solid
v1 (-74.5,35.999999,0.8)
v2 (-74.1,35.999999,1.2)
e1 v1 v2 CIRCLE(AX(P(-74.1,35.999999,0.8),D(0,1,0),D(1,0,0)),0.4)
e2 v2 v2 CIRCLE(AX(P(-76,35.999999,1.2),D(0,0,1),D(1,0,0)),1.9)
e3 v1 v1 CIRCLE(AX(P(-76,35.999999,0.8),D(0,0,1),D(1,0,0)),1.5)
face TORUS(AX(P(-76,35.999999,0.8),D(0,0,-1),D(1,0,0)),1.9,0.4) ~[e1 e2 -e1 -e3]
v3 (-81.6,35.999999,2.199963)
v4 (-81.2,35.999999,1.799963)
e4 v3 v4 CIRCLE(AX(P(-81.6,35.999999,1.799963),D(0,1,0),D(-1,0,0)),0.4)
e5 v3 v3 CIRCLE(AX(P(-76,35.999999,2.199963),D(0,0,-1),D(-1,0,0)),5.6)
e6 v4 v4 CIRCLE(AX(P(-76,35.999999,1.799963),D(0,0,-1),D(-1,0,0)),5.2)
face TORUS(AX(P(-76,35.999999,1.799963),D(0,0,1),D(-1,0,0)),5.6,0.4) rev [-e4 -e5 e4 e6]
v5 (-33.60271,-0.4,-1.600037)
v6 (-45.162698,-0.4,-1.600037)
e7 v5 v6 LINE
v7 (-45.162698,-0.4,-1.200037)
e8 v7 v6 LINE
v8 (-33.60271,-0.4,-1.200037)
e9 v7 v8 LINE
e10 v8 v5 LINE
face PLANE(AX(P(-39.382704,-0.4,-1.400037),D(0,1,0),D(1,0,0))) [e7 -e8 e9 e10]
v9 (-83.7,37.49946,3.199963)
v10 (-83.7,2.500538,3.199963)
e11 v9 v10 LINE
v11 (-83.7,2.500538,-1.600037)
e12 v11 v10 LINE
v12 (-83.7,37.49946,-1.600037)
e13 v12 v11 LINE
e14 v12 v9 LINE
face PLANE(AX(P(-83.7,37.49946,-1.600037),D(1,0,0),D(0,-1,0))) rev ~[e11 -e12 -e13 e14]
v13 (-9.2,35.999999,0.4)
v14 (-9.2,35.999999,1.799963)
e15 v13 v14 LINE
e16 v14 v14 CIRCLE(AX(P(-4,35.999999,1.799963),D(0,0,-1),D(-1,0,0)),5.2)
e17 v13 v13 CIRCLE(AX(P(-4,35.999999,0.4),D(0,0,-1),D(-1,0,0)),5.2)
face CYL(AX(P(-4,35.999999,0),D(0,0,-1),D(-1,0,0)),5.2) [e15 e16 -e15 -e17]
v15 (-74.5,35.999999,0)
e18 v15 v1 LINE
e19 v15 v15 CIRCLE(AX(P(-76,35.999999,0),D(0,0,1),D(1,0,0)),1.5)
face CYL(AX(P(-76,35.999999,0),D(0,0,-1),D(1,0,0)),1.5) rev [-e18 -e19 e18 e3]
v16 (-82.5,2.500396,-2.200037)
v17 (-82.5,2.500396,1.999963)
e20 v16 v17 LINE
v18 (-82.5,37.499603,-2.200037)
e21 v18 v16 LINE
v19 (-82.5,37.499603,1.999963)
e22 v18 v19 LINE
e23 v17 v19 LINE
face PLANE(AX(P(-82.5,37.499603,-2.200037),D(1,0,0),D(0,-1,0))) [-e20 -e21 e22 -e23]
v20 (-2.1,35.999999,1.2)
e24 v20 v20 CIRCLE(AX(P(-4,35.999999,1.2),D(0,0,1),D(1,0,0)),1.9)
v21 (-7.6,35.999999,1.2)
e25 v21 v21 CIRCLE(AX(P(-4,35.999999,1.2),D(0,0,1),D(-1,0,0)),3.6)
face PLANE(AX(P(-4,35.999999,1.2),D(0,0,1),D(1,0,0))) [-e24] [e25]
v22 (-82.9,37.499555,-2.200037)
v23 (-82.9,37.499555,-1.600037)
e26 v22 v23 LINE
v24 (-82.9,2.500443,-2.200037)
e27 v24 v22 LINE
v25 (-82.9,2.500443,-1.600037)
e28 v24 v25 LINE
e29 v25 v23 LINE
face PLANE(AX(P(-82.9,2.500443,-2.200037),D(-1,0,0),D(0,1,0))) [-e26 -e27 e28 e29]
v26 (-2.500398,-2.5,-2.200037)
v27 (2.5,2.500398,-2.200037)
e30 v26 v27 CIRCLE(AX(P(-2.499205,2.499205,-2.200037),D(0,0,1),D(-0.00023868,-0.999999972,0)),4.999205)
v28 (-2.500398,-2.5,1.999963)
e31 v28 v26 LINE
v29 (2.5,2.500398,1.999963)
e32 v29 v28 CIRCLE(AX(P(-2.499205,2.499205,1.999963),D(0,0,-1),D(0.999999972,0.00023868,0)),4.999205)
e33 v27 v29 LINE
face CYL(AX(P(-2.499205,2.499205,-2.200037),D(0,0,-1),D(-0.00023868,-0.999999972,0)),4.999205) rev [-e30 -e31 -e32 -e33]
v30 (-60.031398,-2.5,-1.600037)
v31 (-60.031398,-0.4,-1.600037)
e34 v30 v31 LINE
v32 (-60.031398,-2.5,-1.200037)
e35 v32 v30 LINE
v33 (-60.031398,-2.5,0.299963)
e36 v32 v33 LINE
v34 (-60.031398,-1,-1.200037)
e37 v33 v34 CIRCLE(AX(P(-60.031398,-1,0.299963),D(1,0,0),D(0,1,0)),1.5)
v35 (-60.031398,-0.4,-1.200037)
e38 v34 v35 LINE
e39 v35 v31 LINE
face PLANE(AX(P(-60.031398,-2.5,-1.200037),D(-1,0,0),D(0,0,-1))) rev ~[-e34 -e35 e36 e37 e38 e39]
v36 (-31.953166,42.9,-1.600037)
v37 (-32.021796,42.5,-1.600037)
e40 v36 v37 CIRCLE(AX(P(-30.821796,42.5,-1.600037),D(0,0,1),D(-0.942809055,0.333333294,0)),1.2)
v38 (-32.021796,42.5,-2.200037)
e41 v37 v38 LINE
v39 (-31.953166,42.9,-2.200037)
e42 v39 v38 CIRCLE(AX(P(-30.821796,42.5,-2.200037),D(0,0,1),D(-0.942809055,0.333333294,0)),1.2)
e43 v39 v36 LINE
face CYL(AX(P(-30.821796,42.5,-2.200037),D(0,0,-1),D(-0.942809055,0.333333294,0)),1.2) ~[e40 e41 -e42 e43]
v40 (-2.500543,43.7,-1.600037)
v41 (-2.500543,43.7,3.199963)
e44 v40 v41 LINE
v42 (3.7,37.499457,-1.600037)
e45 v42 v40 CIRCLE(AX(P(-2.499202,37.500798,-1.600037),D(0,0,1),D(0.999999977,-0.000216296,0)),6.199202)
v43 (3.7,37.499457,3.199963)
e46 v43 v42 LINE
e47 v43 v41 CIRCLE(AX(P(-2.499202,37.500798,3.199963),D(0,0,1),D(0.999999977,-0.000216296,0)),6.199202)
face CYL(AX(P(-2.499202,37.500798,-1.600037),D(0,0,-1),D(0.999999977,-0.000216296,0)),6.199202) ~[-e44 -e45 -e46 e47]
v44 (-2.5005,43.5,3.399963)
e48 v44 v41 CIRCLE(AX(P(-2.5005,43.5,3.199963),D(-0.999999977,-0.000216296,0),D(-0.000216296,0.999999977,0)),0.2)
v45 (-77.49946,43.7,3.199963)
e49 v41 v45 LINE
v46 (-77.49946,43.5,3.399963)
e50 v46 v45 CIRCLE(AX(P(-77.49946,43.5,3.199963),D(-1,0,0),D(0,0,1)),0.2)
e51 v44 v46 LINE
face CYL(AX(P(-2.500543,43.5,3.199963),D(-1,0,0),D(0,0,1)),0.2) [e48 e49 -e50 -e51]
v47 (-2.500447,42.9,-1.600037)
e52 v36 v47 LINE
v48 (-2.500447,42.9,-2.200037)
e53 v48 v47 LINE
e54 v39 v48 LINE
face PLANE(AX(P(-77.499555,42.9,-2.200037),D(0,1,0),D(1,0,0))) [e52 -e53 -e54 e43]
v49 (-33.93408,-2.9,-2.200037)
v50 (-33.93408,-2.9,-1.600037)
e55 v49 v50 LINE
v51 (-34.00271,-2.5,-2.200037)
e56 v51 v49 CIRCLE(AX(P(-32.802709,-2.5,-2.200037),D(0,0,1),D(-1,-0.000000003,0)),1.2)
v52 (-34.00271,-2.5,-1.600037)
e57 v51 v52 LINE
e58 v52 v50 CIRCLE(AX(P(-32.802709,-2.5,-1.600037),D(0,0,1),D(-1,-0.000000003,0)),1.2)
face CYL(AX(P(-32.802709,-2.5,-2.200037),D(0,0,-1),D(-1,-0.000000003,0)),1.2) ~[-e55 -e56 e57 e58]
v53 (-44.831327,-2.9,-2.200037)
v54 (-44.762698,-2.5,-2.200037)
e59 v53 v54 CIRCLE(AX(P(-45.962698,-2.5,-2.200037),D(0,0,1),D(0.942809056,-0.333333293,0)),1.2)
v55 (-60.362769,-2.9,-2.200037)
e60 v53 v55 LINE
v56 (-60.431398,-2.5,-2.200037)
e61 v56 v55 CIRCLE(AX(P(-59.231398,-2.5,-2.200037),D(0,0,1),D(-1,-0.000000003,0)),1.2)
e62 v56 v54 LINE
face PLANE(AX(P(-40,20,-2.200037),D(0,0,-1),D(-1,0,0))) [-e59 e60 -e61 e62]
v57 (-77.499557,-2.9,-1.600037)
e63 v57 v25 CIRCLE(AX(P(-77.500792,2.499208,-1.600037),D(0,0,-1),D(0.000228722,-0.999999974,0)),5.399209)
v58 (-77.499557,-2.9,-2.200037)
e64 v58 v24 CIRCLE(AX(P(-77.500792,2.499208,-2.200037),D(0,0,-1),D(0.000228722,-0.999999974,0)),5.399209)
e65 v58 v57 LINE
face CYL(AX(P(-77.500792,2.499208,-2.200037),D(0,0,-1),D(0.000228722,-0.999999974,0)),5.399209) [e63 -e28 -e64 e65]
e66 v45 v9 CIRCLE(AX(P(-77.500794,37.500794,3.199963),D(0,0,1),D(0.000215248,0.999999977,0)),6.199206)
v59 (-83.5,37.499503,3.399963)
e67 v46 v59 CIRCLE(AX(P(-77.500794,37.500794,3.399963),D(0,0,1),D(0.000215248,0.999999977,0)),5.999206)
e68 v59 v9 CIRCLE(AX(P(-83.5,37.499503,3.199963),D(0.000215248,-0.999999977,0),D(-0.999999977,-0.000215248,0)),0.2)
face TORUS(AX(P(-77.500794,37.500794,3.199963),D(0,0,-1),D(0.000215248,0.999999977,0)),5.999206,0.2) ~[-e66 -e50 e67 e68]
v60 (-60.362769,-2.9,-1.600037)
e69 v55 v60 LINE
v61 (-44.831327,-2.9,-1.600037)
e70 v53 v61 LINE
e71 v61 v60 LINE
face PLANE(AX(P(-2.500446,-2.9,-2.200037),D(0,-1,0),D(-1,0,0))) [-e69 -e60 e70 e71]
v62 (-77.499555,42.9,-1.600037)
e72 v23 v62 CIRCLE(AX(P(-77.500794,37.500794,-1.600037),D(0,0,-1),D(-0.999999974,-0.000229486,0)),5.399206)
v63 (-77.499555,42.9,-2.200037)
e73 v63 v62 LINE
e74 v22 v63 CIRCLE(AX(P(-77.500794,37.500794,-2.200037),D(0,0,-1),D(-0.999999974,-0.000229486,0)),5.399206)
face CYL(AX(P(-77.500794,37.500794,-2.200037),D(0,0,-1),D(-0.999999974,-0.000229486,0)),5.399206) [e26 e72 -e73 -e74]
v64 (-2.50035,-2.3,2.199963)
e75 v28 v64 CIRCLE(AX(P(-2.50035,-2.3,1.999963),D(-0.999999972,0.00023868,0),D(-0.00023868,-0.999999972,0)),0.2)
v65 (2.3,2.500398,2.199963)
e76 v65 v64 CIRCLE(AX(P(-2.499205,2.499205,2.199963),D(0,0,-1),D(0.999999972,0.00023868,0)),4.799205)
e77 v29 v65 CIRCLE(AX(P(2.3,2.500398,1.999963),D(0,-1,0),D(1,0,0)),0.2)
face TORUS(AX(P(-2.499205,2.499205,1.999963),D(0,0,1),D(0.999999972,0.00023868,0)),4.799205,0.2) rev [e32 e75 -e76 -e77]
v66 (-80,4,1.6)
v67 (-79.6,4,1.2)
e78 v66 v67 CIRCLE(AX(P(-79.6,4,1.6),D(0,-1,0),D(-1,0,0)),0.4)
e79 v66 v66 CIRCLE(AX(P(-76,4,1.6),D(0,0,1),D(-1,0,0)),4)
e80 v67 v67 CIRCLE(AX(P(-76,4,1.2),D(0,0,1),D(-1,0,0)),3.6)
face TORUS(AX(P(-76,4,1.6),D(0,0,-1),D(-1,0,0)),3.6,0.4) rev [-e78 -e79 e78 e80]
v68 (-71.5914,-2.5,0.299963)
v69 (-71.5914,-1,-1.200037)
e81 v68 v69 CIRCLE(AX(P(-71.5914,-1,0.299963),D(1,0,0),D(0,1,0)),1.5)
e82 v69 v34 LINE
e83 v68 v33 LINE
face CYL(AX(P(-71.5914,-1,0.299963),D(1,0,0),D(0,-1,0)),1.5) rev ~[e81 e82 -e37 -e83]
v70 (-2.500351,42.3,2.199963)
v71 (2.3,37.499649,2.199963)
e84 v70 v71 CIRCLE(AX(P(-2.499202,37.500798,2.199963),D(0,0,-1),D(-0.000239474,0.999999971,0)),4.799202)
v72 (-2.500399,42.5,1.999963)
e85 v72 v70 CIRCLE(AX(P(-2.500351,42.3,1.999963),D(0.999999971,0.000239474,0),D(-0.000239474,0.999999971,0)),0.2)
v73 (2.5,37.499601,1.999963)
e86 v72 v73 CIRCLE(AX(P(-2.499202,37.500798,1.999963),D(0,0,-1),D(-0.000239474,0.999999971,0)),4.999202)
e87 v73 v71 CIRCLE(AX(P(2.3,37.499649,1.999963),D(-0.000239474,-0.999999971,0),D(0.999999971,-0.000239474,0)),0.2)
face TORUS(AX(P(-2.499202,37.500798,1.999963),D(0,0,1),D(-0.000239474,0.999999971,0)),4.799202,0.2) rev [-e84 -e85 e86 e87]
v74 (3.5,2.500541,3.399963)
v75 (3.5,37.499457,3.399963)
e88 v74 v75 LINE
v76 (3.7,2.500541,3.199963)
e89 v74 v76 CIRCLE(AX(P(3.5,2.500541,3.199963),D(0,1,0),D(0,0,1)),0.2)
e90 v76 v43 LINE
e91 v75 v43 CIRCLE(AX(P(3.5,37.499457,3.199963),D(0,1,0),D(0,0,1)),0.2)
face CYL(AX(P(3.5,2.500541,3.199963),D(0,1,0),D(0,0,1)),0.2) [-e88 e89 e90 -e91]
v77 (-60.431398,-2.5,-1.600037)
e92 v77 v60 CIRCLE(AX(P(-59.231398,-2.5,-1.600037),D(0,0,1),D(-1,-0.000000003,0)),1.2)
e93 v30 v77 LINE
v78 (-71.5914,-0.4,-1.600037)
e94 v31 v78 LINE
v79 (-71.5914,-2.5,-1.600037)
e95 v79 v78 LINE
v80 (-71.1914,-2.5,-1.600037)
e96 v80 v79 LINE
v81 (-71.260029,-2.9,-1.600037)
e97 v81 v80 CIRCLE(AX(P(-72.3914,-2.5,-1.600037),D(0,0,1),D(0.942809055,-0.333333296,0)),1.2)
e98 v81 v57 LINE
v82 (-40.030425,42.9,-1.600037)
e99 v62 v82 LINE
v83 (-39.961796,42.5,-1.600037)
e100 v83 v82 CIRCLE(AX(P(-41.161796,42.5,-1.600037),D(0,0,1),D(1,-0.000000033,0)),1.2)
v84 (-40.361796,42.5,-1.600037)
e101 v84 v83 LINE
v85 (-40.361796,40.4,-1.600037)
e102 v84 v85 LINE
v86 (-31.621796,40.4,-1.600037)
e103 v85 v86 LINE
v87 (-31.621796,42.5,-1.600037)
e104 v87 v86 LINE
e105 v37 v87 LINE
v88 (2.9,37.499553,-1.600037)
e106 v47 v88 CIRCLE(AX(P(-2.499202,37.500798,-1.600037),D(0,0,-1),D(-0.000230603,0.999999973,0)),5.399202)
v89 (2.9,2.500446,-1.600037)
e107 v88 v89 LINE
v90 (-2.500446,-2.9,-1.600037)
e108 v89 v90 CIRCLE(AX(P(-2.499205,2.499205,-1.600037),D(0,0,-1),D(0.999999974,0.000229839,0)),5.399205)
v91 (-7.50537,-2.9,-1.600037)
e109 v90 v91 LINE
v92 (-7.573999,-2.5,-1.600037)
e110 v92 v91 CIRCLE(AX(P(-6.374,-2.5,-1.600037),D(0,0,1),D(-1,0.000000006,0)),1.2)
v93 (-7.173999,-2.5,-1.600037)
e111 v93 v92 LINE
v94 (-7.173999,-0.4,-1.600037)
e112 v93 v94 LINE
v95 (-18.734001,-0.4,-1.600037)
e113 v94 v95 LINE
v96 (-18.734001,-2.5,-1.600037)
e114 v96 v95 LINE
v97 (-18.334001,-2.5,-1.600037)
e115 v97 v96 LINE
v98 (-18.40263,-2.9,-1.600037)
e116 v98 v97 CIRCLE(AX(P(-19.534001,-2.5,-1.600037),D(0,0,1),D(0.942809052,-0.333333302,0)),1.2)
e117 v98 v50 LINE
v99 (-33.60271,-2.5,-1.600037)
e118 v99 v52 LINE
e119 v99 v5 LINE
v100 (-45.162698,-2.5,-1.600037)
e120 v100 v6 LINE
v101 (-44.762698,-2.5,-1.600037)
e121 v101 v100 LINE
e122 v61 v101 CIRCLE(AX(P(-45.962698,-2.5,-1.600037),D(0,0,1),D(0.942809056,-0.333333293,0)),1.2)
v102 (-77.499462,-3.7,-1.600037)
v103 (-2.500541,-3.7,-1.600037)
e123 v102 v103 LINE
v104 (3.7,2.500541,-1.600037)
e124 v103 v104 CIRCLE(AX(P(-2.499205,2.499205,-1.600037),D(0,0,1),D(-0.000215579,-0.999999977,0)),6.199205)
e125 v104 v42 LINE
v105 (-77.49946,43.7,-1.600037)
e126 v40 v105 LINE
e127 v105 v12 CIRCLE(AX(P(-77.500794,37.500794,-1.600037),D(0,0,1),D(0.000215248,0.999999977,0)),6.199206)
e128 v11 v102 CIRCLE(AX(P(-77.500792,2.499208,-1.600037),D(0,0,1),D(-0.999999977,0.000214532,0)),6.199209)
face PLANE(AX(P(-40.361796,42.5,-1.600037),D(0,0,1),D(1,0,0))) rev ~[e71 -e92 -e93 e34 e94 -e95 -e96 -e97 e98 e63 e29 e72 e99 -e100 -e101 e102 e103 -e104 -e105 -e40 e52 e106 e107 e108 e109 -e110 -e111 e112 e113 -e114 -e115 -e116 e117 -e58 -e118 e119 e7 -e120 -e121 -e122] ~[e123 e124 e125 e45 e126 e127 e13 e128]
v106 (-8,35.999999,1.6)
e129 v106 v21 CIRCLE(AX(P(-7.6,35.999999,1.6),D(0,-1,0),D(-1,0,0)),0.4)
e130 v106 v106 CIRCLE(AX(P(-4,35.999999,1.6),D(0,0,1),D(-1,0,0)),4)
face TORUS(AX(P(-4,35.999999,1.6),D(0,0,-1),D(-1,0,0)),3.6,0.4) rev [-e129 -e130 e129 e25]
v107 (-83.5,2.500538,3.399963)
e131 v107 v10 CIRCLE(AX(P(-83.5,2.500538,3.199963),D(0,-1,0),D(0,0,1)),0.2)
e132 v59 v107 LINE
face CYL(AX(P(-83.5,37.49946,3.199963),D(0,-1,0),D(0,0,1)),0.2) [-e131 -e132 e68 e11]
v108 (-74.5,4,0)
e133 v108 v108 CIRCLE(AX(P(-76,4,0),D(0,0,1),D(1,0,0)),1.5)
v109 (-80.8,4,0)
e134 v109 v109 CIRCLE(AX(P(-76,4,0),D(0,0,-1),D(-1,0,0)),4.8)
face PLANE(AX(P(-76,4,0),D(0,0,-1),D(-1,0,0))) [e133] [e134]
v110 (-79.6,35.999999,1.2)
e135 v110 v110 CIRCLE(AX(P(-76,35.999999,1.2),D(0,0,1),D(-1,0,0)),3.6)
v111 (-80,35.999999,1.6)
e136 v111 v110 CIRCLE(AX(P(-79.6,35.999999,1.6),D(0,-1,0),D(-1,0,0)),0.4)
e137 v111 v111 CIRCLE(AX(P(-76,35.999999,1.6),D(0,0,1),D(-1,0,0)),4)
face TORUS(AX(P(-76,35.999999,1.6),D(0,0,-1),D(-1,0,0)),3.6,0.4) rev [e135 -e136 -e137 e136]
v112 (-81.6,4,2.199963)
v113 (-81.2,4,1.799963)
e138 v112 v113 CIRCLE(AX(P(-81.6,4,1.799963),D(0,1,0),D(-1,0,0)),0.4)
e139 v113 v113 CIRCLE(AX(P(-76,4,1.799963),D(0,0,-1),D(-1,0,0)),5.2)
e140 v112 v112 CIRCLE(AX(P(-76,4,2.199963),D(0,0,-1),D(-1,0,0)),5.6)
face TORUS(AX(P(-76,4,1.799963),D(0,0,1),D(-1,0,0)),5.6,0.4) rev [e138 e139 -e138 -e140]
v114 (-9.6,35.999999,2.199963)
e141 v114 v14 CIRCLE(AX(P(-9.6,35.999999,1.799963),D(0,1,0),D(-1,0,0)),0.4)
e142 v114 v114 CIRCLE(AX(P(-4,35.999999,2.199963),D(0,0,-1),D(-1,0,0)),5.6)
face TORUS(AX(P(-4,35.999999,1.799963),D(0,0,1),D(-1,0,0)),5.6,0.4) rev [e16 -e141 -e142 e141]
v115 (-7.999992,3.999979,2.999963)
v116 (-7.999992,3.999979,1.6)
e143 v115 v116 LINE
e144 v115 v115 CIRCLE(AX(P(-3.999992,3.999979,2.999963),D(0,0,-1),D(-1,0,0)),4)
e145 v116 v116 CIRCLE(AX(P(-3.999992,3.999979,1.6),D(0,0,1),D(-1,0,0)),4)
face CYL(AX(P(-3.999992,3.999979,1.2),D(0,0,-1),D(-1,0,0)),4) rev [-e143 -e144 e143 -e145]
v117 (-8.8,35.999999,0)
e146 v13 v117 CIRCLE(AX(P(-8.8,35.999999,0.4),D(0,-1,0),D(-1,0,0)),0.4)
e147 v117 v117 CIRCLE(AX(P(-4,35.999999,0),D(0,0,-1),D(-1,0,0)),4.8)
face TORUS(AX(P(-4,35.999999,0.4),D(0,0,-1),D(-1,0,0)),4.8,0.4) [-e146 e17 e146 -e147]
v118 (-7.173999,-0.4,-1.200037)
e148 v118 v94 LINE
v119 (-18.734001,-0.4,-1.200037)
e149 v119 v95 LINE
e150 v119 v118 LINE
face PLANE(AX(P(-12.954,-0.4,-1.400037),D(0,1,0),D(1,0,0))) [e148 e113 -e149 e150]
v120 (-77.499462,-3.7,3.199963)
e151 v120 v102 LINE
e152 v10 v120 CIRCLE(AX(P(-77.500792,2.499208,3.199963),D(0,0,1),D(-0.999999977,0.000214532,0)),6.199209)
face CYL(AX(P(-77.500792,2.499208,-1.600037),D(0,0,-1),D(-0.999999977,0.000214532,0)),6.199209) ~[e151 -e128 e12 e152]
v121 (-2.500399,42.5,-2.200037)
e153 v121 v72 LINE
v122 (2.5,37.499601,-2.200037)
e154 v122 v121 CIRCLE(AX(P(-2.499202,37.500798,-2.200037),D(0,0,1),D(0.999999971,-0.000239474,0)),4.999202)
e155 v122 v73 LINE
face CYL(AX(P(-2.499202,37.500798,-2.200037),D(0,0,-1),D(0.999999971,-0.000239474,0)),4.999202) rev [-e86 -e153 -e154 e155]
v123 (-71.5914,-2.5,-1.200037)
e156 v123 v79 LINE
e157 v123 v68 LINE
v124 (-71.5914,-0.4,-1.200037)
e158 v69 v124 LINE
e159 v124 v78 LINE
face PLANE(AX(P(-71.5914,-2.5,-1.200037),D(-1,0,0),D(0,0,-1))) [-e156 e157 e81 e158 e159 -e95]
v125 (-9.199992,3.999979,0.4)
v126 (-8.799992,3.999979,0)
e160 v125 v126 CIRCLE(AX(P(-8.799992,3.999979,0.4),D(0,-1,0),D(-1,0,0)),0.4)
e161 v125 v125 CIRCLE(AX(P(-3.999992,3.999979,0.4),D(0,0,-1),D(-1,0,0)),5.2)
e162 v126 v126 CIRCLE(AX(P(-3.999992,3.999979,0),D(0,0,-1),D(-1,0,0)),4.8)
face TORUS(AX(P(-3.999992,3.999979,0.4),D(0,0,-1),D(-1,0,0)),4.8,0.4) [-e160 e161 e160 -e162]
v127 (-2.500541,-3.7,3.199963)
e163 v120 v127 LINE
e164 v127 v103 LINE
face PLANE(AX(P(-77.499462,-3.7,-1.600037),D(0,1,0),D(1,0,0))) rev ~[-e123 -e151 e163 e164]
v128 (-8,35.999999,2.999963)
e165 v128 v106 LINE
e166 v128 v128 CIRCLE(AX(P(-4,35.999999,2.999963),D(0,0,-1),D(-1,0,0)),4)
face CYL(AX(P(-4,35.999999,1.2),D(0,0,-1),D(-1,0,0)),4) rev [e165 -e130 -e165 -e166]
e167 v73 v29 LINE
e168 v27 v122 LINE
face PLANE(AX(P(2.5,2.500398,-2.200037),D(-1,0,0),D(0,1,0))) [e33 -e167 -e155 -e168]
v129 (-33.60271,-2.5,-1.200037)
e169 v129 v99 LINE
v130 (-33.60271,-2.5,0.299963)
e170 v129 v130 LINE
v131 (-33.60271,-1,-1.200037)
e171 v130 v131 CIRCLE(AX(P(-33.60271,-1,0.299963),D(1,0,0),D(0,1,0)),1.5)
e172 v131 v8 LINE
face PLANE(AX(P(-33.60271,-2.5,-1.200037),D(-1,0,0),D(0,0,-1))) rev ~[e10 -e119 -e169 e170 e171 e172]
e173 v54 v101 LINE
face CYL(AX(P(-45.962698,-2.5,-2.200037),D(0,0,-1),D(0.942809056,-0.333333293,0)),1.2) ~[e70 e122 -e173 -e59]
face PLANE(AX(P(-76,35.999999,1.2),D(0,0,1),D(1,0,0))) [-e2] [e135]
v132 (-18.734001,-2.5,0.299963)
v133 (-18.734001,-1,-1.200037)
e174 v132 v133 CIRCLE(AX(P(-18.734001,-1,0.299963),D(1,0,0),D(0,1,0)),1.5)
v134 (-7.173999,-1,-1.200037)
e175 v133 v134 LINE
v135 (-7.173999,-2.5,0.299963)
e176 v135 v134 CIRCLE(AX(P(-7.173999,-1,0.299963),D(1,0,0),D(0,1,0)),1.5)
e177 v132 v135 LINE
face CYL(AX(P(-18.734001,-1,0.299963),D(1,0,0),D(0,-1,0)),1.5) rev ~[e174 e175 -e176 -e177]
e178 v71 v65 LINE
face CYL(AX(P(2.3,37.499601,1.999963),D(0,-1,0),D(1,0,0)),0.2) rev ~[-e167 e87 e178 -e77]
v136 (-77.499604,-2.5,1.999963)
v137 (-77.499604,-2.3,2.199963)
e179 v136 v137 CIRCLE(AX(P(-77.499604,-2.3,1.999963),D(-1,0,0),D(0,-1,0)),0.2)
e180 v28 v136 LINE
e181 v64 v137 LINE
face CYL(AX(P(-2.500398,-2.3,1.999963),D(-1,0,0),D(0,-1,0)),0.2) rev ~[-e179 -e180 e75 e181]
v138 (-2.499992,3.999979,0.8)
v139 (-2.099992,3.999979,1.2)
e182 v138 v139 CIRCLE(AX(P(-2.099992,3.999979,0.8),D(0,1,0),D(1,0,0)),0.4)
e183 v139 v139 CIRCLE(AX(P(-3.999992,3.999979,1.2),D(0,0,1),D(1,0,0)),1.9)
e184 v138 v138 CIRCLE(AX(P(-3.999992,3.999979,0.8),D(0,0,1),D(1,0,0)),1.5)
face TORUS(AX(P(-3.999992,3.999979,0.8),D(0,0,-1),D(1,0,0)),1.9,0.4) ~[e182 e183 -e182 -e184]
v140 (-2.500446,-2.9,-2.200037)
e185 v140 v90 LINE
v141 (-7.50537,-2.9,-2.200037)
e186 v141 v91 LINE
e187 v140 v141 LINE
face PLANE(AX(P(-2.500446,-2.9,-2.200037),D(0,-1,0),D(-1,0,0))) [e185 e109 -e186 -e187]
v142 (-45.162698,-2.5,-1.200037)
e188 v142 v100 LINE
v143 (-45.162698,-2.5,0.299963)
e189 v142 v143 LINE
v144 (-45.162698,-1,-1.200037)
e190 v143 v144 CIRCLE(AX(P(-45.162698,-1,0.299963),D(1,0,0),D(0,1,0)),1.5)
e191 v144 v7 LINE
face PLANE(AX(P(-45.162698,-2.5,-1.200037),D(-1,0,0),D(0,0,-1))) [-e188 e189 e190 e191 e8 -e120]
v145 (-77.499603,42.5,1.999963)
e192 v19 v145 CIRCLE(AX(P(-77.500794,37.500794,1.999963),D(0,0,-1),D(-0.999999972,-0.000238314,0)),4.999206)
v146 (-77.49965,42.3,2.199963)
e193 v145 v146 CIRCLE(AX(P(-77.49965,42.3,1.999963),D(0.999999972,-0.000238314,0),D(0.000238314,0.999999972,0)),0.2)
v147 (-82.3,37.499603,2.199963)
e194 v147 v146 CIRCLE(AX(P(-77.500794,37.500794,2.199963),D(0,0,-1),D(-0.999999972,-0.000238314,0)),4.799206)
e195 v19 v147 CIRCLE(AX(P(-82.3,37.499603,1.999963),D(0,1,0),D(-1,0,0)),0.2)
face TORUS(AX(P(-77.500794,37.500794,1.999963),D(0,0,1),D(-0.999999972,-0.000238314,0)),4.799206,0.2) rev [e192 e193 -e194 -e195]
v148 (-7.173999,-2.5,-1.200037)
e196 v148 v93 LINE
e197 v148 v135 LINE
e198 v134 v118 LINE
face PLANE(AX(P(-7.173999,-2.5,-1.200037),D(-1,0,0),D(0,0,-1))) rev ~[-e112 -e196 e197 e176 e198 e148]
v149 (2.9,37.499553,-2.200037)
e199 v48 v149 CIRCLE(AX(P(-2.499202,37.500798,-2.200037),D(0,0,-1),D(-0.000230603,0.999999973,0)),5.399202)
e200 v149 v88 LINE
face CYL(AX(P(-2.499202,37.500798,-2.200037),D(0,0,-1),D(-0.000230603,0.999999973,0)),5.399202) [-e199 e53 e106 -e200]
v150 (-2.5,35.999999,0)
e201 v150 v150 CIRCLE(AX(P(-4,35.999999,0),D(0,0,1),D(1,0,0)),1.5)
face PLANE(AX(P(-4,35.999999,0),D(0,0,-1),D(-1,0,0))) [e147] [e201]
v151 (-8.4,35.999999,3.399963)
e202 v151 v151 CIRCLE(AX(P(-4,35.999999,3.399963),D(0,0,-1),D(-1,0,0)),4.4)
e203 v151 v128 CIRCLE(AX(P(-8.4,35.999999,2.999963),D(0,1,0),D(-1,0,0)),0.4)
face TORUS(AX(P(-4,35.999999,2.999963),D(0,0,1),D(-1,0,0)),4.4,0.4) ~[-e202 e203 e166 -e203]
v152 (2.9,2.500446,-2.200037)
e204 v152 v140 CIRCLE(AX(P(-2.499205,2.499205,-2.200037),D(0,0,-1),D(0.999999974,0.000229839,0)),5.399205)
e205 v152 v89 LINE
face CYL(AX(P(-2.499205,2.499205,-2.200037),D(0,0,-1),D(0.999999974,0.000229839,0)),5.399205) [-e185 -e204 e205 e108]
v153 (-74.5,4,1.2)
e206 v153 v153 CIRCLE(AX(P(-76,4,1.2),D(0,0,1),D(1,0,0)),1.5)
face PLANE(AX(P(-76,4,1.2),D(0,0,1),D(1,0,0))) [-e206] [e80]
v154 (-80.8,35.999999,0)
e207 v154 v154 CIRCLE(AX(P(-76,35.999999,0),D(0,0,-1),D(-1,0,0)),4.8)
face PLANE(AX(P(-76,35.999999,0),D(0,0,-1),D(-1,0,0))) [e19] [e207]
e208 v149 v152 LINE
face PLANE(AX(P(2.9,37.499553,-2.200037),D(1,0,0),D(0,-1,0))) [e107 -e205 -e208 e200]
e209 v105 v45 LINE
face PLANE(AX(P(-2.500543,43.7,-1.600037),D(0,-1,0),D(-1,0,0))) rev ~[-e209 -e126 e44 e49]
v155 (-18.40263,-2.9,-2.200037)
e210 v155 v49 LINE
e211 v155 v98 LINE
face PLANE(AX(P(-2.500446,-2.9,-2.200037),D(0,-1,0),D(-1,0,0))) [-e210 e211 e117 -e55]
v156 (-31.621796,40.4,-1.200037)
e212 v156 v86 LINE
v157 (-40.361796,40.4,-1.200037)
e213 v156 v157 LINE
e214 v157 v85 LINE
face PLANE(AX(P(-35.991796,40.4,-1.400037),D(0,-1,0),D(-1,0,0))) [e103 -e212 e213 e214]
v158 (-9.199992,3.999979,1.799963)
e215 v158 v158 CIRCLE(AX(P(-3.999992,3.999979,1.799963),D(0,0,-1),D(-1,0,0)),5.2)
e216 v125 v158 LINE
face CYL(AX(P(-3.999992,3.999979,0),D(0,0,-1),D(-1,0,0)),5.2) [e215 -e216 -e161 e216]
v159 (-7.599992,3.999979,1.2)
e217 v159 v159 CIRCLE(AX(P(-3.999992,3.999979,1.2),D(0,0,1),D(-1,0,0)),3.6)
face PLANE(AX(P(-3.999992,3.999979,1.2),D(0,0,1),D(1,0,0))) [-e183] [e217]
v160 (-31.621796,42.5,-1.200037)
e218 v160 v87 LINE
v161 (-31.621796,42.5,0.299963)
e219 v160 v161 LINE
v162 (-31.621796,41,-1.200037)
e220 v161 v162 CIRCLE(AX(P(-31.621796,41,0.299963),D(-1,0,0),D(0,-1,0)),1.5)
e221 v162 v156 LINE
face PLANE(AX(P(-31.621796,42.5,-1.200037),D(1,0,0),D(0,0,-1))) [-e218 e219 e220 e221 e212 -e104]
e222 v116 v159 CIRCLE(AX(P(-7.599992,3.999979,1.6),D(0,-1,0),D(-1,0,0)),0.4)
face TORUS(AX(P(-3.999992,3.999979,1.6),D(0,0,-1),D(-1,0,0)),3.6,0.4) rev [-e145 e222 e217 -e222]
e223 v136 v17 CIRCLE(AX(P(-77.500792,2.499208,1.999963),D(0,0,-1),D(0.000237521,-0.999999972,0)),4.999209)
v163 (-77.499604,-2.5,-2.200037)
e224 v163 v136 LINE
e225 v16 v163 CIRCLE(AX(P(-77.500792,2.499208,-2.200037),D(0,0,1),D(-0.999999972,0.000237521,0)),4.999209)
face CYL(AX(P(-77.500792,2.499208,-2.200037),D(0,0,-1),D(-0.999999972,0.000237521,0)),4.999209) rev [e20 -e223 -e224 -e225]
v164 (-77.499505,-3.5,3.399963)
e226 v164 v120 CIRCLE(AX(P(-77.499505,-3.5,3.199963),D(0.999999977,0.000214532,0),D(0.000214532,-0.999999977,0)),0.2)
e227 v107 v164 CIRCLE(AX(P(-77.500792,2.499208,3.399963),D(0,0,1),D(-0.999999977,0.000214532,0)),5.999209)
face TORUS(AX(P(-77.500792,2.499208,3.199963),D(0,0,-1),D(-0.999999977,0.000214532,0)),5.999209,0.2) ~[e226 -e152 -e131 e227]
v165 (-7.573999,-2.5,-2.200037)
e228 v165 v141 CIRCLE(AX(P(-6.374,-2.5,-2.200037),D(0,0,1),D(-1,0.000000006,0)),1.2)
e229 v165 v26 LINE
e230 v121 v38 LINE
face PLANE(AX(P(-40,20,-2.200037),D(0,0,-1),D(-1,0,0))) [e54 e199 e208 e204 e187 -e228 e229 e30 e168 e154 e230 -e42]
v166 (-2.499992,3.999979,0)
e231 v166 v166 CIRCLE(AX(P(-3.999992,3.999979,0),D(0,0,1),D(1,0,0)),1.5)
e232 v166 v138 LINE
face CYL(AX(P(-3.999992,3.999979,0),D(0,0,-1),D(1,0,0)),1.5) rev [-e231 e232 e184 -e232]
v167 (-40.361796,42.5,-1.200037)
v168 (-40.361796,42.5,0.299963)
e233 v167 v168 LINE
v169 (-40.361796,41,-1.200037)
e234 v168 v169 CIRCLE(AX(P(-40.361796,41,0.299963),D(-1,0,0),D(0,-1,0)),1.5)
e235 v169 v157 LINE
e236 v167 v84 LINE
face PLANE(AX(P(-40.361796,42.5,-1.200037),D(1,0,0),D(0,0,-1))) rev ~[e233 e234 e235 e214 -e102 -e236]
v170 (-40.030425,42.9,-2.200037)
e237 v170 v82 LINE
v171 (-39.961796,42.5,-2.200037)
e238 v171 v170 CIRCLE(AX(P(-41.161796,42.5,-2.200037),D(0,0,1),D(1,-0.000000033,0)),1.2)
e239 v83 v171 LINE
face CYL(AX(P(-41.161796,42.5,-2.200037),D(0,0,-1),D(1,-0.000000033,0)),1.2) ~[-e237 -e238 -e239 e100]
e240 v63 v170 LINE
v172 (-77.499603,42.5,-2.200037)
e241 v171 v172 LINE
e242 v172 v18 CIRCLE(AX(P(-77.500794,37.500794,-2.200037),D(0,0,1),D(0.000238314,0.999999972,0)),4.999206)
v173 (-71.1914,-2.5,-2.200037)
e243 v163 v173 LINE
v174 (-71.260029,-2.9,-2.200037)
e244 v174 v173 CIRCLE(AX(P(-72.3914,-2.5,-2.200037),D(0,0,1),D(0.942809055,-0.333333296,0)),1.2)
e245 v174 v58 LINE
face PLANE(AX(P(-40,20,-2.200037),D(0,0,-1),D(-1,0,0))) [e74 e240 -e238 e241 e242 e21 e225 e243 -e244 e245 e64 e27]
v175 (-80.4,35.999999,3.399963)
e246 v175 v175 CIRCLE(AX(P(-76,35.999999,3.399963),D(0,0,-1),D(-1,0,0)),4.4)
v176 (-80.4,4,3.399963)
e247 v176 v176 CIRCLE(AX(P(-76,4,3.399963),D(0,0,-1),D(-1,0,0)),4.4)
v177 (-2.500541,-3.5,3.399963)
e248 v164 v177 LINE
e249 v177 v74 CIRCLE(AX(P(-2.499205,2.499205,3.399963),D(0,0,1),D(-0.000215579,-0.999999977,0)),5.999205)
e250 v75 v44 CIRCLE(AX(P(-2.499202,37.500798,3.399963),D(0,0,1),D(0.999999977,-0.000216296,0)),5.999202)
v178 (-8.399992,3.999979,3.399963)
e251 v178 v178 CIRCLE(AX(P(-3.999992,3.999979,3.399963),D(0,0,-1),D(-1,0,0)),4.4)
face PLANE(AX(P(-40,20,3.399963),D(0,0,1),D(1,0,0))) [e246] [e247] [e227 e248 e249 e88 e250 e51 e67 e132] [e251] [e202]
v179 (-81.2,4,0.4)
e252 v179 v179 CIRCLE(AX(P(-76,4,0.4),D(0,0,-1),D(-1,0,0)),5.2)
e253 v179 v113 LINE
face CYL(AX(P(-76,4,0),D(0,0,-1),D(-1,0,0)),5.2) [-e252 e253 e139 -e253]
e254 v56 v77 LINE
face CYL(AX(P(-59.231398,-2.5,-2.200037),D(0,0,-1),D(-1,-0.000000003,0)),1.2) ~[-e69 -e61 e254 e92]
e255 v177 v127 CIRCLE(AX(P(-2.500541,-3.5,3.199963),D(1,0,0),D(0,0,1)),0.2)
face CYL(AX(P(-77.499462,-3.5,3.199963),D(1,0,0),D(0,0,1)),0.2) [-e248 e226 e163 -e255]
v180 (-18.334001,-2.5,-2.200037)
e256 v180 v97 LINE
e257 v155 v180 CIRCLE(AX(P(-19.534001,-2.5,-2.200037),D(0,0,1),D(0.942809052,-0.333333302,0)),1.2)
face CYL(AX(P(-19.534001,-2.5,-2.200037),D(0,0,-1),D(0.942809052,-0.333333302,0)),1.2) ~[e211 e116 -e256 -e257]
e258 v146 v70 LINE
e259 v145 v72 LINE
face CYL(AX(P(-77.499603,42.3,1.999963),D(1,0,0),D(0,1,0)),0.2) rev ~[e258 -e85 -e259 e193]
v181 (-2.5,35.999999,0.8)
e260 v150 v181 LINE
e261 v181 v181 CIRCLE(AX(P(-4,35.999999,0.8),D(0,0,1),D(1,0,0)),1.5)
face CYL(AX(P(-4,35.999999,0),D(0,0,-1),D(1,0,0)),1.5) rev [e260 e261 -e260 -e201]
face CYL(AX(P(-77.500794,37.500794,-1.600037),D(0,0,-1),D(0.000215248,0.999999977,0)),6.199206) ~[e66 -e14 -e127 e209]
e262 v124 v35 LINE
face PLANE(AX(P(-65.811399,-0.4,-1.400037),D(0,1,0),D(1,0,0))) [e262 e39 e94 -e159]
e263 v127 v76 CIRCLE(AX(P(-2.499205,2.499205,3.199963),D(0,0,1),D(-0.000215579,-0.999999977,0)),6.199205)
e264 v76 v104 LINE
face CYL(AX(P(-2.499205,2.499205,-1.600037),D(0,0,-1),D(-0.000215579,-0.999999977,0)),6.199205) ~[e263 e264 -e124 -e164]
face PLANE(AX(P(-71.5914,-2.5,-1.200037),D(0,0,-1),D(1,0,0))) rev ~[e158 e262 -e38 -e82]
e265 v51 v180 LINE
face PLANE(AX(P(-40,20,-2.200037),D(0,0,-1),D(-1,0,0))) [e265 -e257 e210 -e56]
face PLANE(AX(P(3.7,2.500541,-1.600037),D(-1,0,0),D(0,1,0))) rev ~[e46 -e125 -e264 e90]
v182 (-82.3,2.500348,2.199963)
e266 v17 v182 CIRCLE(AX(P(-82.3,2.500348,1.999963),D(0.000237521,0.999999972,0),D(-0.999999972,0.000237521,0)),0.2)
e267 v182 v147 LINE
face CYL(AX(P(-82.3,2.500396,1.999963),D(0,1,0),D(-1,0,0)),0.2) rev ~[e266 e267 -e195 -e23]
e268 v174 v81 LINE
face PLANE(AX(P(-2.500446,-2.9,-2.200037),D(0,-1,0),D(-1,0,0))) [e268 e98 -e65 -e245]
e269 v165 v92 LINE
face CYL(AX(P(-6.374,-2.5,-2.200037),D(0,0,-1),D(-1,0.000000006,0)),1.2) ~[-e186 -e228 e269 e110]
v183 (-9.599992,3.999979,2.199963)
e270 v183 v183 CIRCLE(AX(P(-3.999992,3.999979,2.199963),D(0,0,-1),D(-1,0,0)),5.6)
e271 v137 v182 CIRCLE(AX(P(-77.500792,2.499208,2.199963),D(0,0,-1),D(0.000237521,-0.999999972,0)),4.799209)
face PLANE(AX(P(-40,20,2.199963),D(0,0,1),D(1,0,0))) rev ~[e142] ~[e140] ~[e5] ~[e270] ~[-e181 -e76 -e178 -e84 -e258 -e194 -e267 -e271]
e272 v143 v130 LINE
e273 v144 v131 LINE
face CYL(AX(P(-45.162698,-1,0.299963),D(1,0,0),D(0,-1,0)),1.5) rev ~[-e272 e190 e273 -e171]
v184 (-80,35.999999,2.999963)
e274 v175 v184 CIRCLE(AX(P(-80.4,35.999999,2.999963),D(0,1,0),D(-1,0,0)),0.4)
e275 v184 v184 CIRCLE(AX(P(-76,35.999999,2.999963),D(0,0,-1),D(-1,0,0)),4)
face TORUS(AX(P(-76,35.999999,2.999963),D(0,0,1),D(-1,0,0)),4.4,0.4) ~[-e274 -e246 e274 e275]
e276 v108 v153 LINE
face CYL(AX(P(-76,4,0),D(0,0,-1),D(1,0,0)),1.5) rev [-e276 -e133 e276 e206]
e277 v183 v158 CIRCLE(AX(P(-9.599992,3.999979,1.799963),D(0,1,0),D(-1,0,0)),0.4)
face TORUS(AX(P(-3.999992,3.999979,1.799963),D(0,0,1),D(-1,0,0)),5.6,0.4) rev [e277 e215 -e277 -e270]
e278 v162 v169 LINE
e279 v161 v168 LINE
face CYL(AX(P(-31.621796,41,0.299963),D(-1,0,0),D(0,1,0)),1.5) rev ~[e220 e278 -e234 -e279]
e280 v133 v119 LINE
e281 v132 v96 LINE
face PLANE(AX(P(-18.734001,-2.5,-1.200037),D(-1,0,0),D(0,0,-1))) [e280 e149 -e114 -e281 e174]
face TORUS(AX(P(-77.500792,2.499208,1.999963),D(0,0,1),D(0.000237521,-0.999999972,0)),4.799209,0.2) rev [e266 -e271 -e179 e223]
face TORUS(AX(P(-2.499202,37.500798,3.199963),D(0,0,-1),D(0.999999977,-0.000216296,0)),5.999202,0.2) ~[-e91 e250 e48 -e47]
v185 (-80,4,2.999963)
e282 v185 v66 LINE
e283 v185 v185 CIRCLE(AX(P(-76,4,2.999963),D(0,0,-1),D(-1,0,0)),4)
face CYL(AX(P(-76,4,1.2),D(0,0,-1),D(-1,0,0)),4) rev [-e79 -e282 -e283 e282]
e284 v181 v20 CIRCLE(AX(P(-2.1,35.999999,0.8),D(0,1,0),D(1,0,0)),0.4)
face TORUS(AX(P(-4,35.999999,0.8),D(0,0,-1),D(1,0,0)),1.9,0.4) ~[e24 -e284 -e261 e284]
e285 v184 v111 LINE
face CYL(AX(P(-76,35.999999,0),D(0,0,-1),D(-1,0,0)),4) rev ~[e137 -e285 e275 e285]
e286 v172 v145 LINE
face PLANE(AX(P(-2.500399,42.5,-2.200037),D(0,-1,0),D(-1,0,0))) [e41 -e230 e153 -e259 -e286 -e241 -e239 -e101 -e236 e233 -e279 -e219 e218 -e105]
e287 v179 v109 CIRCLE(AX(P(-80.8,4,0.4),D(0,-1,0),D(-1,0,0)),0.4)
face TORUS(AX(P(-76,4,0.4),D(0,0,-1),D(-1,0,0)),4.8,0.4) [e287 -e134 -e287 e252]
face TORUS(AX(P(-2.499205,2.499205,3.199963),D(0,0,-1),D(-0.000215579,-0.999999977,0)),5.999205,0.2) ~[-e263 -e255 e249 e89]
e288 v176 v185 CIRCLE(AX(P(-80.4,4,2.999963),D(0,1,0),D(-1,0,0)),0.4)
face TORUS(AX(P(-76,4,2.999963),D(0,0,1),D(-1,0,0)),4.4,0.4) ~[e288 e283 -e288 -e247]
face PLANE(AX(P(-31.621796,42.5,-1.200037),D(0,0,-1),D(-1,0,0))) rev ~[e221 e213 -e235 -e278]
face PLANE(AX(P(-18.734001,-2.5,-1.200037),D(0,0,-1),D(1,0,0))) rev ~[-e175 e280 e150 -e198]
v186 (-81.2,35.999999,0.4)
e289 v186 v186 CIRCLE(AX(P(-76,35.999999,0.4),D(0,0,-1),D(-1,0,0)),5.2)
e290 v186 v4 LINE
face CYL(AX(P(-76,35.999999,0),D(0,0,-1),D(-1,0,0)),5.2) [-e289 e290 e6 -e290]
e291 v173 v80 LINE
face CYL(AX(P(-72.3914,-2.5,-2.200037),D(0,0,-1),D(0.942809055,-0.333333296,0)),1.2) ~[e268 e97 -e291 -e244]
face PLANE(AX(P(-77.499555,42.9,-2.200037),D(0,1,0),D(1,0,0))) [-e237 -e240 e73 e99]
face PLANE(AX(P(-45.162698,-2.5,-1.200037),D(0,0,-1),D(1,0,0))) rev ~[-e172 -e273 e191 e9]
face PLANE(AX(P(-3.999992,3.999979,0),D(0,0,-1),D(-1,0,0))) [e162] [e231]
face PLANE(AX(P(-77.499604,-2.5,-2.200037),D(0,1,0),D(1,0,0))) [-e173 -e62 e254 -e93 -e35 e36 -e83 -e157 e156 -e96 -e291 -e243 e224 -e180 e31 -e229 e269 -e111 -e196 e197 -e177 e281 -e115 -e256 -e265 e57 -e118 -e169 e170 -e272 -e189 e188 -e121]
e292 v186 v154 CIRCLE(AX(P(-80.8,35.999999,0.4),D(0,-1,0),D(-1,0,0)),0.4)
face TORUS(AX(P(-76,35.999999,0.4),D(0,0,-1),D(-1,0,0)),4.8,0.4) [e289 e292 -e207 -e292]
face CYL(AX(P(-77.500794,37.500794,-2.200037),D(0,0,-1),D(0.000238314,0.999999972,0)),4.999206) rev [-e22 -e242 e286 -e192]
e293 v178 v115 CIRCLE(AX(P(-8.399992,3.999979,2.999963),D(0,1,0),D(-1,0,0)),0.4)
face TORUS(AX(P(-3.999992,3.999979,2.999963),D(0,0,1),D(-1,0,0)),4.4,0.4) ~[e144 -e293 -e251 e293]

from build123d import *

# Parameters (mm, degrees)
EXTRUDE_1_DEPTH     = 5
EXTRUDE_START       = -1.2
EXTRUDE_2_DEPTH     = 1.2
SKETCH_4_R          = 4
SKETCH_4_R_2        = 1.5
EXTRUDE_3_DEPTH     = 1.2
EXTRUDE_3_2_DEPTH   = 1.2
EXTRUDE_3_3_DEPTH   = 1.2
EXTRUDE_3_4_DEPTH   = 1.2
EXTRUDE_4_REACH     = 96.482
SKETCH_5_R          = 5.2
SKETCH_5_R_2        = 4
SKETCH_6_R          = 4
CUT_EXTRUDE_1_DEPTH = 95.46279818
EXTRUDE_START_2     = 0.6
EXTRUDE_5_DEPTH     = 0.6
CUT_EXTRUDE_2_REACH = 97.858
SKETCH_8_W          = 7.940000079
SKETCH_8_H          = 0.6
CUT_EXTRUDE_3_REACH = 98.25
SKETCH_9_W          = 10.760001831
SKETCH_9_H          = 0.6
SKETCH_9_W_2        = 10.759988403
SKETCH_10_W         = 10.760001831
SKETCH_10_H         = 0.4
SKETCH_10_W_2       = 0.4
SKETCH_10_W_3       = 10.759988403
EXTRUDE_6_DEPTH     = 2.099999937
SKETCH_11_W         = 7.940000079
SKETCH_11_H         = 0.4
SKETCH_11_W_2       = 0.4
EXTRUDE_7_DEPTH     = 2.099999937
FILLET_1_R          = 0.4
FILLET_2_R          = 1.5
FILLET_3_R          = 0.2
CUT_EXTRUDE_4_DEPTH = 0.6


with BuildPart() as part:
    # 草图1 → 凸台-拉伸1 (new body)
    with BuildSketch(Plane.XY.offset(-1.60003744)):
        with BuildLine():
            ThreePointArc((3.699999975, 37.499457172), (1.884295867, 41.884295867), (-2.500542828, 43.699999975))
            Line((-2.500542828, 43.699999975), (-77.499459801, 43.699999975))
            ThreePointArc((-77.499459801, 43.699999975), (-81.884294734, 41.884294734), (-83.699999975, 37.499459801))
            Line((-83.699999975, 37.499459801), (-83.699999975, 2.500538401))
            ThreePointArc((-83.699999975, 2.500538401), (-81.884293959, -1.884293959), (-77.499461599, -3.699999975))
            Line((-77.499461599, -3.699999975), (-2.500541029, -3.699999975))
            ThreePointArc((-2.500541029, -3.699999975), (1.884295092, -1.884295092), (3.699999975, 2.500541029))
            Line((3.699999975, 2.500541029), (3.699999975, 37.499457172))
        make_face()
        with BuildLine():
            Line((2.499999937, 2.500397821), (2.499999936, 37.499600856))
            ThreePointArc((2.499999936, 37.499600856), (1.035767701, 41.035767701), (-2.500399144, 42.499999936))
            Line((-2.500399144, 42.499999936), (-77.499602789, 42.499999937))
            ThreePointArc((-77.499602789, 42.499999937), (-81.035766569, 41.035766569), (-82.499999937, 37.499602789))
            Line((-82.499999937, 37.499602789), (-82.499999937, 2.500395888))
            ThreePointArc((-82.499999937, 2.500395888), (-81.035765794, -1.035765794), (-77.499604112, -2.499999937))
            Line((-77.499604112, -2.499999937), (-2.500397821, -2.499999937))
            ThreePointArc((-2.500397821, -2.499999937), (1.035766926, -1.035766926), (2.499999937, 2.500397821))
        make_face(mode=Mode.SUBTRACT)
    extrude(amount=EXTRUDE_1_DEPTH)

    # 草图3 → 凸台-拉伸2 (add)
    with BuildSketch(Plane.XY.offset(3.39996256).offset(EXTRUDE_START)):
        with BuildLine():
            Line((-2.500542828, 43.699999975), (-77.499459801, 43.699999975))
            ThreePointArc((-77.499459801, 43.699999975), (-81.884294734, 41.884294734), (-83.699999975, 37.499459801))
            Line((-83.699999975, 37.499459801), (-83.699999975, 2.500538401))
            ThreePointArc((-83.699999975, 2.500538401), (-81.884293959, -1.884293959), (-77.499461599, -3.699999975))
            Line((-77.499461599, -3.699999975), (-2.500541029, -3.699999975))
            ThreePointArc((-2.500541029, -3.699999975), (1.884295092, -1.884295092), (3.699999975, 2.500541029))
            Line((3.699999975, 2.500541029), (3.699999975, 37.499457172))
            ThreePointArc((3.699999975, 37.499457172), (1.884295867, 41.884295867), (-2.500542828, 43.699999975))
        make_face()
    extrude(amount=EXTRUDE_2_DEPTH)

    # 草图5 → 凸台-拉伸4 (add, up to next)
    with BuildSketch(Plane(origin=(0, 0, 0), x_dir=(-1, 0, 0), z_dir=(0, 0, -1)), mode=Mode.PRIVATE) as extrude_4_sk1:
        with Locations((76.0000004, 3.99999962)):
            Circle(SKETCH_5_R)
        with Locations((76.0000004, 3.99999962)):
            Circle(SKETCH_5_R_2, mode=Mode.SUBTRACT)
    extrude_4_tool1 = extrude(extrude_4_sk1.sketch, amount=-EXTRUDE_4_REACH, mode=Mode.PRIVATE) - part.part
    # 草图5 → 凸台-拉伸4 (add, up to next)
    with BuildSketch(Plane(origin=(0, 0, 0), x_dir=(-1, 0, 0), z_dir=(0, 0, -1)), mode=Mode.PRIVATE) as extrude_4_sk2:
        with Locations((3.999992, 3.9999793)):
            Circle(SKETCH_5_R)
        with Locations((3.999992, 3.9999793)):
            Circle(SKETCH_5_R_2, mode=Mode.SUBTRACT)
    extrude_4_tool2 = extrude(extrude_4_sk2.sketch, amount=-EXTRUDE_4_REACH, mode=Mode.PRIVATE) - part.part
    # 草图5 → 凸台-拉伸4 (add, up to next)
    with BuildSketch(Plane(origin=(0, 0, 0), x_dir=(-1, 0, 0), z_dir=(0, 0, -1)), mode=Mode.PRIVATE) as extrude_4_sk3:
        with Locations((3.99999962, 35.99999912)):
            Circle(SKETCH_5_R)
        with Locations((3.99999962, 35.99999912)):
            Circle(SKETCH_5_R_2, mode=Mode.SUBTRACT)
    extrude_4_tool3 = extrude(extrude_4_sk3.sketch, amount=-EXTRUDE_4_REACH, mode=Mode.PRIVATE) - part.part
    # 草图5 → 凸台-拉伸4 (add, up to next)
    with BuildSketch(Plane(origin=(0, 0, 0), x_dir=(-1, 0, 0), z_dir=(0, 0, -1)), mode=Mode.PRIVATE) as extrude_4_sk4:
        with Locations((76.0000004, 35.99999912)):
            Circle(SKETCH_5_R)
        with Locations((76.0000004, 35.99999912)):
            Circle(SKETCH_5_R_2, mode=Mode.SUBTRACT)
    extrude_4_tool4 = extrude(extrude_4_sk4.sketch, amount=-EXTRUDE_4_REACH, mode=Mode.PRIVATE) - part.part


with BuildPart() as body_2:
    # 草图4 → 凸台-拉伸3 (new body)
    with BuildSketch(Plane.XY):
        with Locations((-76.0000004, 35.99999912)):
            Circle(SKETCH_4_R)
        with Locations((-76.0000004, 35.99999912)):
            Circle(SKETCH_4_R_2, mode=Mode.SUBTRACT)
    extrude(amount=EXTRUDE_3_DEPTH)


with BuildPart() as body_3:
    # 草图4 → Extrude 3 2 (new body)
    with BuildSketch(Plane.XY):
        with Locations((-3.99999962, 35.99999912)):
            Circle(SKETCH_4_R)
        with Locations((-3.99999962, 35.99999912)):
            Circle(SKETCH_4_R_2, mode=Mode.SUBTRACT)
    extrude(amount=EXTRUDE_3_2_DEPTH)


with BuildPart() as body_4:
    # 草图4 → Extrude 3 3 (new body)
    with BuildSketch(Plane.XY):
        with Locations((-76.0000004, 3.99999962)):
            Circle(SKETCH_4_R)
        with Locations((-76.0000004, 3.99999962)):
            Circle(SKETCH_4_R_2, mode=Mode.SUBTRACT)
    extrude(amount=EXTRUDE_3_3_DEPTH)


with BuildPart() as body_5:
    # 草图4 → Extrude 3 4 (new body)
    with BuildSketch(Plane.XY):
        with Locations((-3.999992, 3.9999793)):
            Circle(SKETCH_4_R)
        with Locations((-3.999992, 3.9999793)):
            Circle(SKETCH_4_R_2, mode=Mode.SUBTRACT)
    extrude(amount=EXTRUDE_3_4_DEPTH)


with BuildPart() as part_1:
    add(part.part)

    add(body_2.part)  # 凸台-拉伸4 merges body 2

    add(body_3.part)  # 凸台-拉伸4 merges body 3

    add(body_4.part)  # 凸台-拉伸4 merges body 4

    add(body_5.part)  # 凸台-拉伸4 merges body 5
    add(extrude_4_tool1.solids().sort_by_distance((-70.947079, 4, 0))[0])
    add(extrude_4_tool2.solids().sort_by_distance((1.05293, 3.999979, 0))[0])
    add(extrude_4_tool3.solids().sort_by_distance((1.052922, 35.999999, 0))[0])
    add(extrude_4_tool4.solids().sort_by_distance((-70.947079, 35.999999, 0))[0])

    # 草图6 → 切除-拉伸1 (cut, through all)
    with BuildSketch(Plane.XY.offset(1.2)):
        with Locations(Location((-76.0000004, 3.99999962, 0), (0, 0, 180))):
            Circle(SKETCH_6_R)
        with Locations(Location((-3.999992, 3.9999793, 0), (0, 0, 180))):
            Circle(SKETCH_6_R)
        with Locations(Location((-3.99999962, 35.99999912, 0), (0, 0, 180))):
            Circle(SKETCH_6_R)
        with Locations(Location((-76.0000004, 35.99999912, 0), (0, 0, 180))):
            Circle(SKETCH_6_R)
    extrude(amount=CUT_EXTRUDE_1_DEPTH, mode=Mode.SUBTRACT)

    # 草图7 → 凸台-拉伸5 (add)
    with BuildSketch(Plane(origin=(0, 0, -1.60003744), x_dir=(-1, 0, 0), z_dir=(0, 0, -1)).offset(EXTRUDE_START_2)):
        with BuildLine():
            Line((-2.899999931, 37.499552961), (-2.899999931, 2.500445557))
            ThreePointArc((-2.899999931, 2.500445557), (-1.318609635, -1.318609635), (2.500445557, -2.899999931))
            Line((2.500445557, -2.899999931), (77.499556608, -2.899999931))
            ThreePointArc((77.499556608, -2.899999931), (81.318608502, -1.318608502), (82.899999932, 2.500443392))
            Line((82.899999932, 2.500443392), (82.899999931, 37.499555126))
            ThreePointArc((82.899999931, 37.499555126), (81.318609277, 41.318609277), (77.499555126, 42.899999931))
            Line((77.499555126, 42.899999931), (2.500447039, 42.899999931))
            ThreePointArc((2.500447039, 42.899999931), (-1.318610409, 41.318610409), (-2.899999931, 37.499552961))
        make_face()
        with BuildLine():
            ThreePointArc((2.500397821, -2.499999937), (-1.035766926, -1.035766926), (-2.499999937, 2.500397821))
            Line((-2.499999937, 2.500397821), (-2.499999936, 37.499600856))
            ThreePointArc((-2.499999936, 37.499600856), (-1.035767701, 41.035767701), (2.500399144, 42.499999936))
            Line((2.500399144, 42.499999936), (77.499602789, 42.499999937))
            ThreePointArc((77.499602789, 42.499999937), (81.035766569, 41.035766569), (82.499999937, 37.499602789))
            Line((82.499999937, 37.499602789), (82.499999937, 2.500395888))
            ThreePointArc((82.499999937, 2.500395888), (81.035765794, -1.035765794), (77.499604112, -2.499999937))
            Line((77.499604112, -2.499999937), (2.500397821, -2.499999937))
        make_face(mode=Mode.SUBTRACT)
    extrude(amount=-EXTRUDE_5_DEPTH)

    # 草图8 → 切除-拉伸2 (cut, up to next)
    with BuildSketch(Plane(origin=(0, 42.899999931, 0), x_dir=(1.0, -4.843868141931495e-12, 0), z_dir=(4.843868141931495e-12, 1.0, 0)), mode=Mode.PRIVATE) as cut_extrude_2_sk1:
        with Locations((-35.991795639, 1.90003744)):
            Rectangle(SKETCH_8_W, SKETCH_8_H)
    cut_extrude_2_tool1 = extrude(cut_extrude_2_sk1.sketch, amount=-CUT_EXTRUDE_2_REACH, mode=Mode.PRIVATE) & part_1.part
    add(cut_extrude_2_tool1.solids().sort_by_distance((-35.991796, 42.9, -1.900037))[0], mode=Mode.SUBTRACT)

    # 草图9 → 切除-拉伸3 (cut, up to next)
    with BuildSketch(Plane.XZ.offset(3.699999975), mode=Mode.PRIVATE) as cut_extrude_3_sk1:
        with Locations((-12.954000404, -1.90003744)):
            Rectangle(SKETCH_9_W, SKETCH_9_H)
    cut_extrude_3_tool1 = extrude(cut_extrude_3_sk1.sketch, amount=-CUT_EXTRUDE_3_REACH, mode=Mode.PRIVATE) & part_1.part
    # 草图9 → 切除-拉伸3 (cut, up to next)
    with BuildSketch(Plane.XZ.offset(3.699999975), mode=Mode.PRIVATE) as cut_extrude_3_sk2:
        with Locations((-39.382703711, -1.90003744)):
            Rectangle(SKETCH_9_W_2, SKETCH_9_H)
    cut_extrude_3_tool2 = extrude(cut_extrude_3_sk2.sketch, amount=-CUT_EXTRUDE_3_REACH, mode=Mode.PRIVATE) & part_1.part
    # 草图9 → 切除-拉伸3 (cut, up to next)
    with BuildSketch(Plane.XZ.offset(3.699999975), mode=Mode.PRIVATE) as cut_extrude_3_sk3:
        with Locations((-65.811399391, -1.90003744)):
            Rectangle(SKETCH_9_W, SKETCH_9_H)
    cut_extrude_3_tool3 = extrude(cut_extrude_3_sk3.sketch, amount=-CUT_EXTRUDE_3_REACH, mode=Mode.PRIVATE) & part_1.part
    add(cut_extrude_3_tool1.solids().sort_by_distance((-12.954, -3.7, -1.900037))[0], mode=Mode.SUBTRACT)
    add(cut_extrude_3_tool2.solids().sort_by_distance((-39.382704, -3.7, -1.900037))[0], mode=Mode.SUBTRACT)
    add(cut_extrude_3_tool3.solids().sort_by_distance((-65.811399, -3.7, -1.900037))[0], mode=Mode.SUBTRACT)

    # 草图10 → 凸台-拉伸6 (add)
    with BuildSketch(Plane(origin=(0, -2.499999937, 0), x_dir=(1.0, 8.18281192767546e-12, 0), z_dir=(-8.18281192767546e-12, 1.0, 0))):
        with Locations((-12.954000404, 1.40003744)):
            Rectangle(SKETCH_10_W, SKETCH_10_H)
        with Locations((-18.534001319, 1.40003744)):
            Rectangle(SKETCH_10_W_2, SKETCH_10_H)
        with Locations((-7.373999488, 1.40003744)):
            Rectangle(SKETCH_10_W_2, SKETCH_10_H)
        with Locations((-39.382703711, 1.40003744)):
            Rectangle(SKETCH_10_W_3, SKETCH_10_H)
        with Locations((-44.962697913, 1.40003744)):
            Rectangle(SKETCH_10_W_2, SKETCH_10_H)
        with Locations((-33.80270951, 1.40003744)):
            Rectangle(SKETCH_10_W_2, SKETCH_10_H)
        with Locations((-65.811399391, 1.40003744)):
            Rectangle(SKETCH_10_W, SKETCH_10_H)
        with Locations((-60.231398475, 1.40003744)):
            Rectangle(SKETCH_10_W_2, SKETCH_10_H)
        with Locations((-71.391400306, 1.40003744)):
            Rectangle(SKETCH_10_W_2, SKETCH_10_H)
    extrude(amount=EXTRUDE_6_DEPTH)

    # 草图11 → 凸台-拉伸7 (add)
    with BuildSketch(Plane(origin=(0, 42.499999936, 0), x_dir=(-1.0, 8.210001404256635e-12, 0), z_dir=(-8.210001404256635e-12, -1.0, 0))):
        with Locations((35.991795639, 1.40003744)):
            Rectangle(SKETCH_11_W, SKETCH_11_H)
        with Locations((40.161795678, 1.40003744)):
            Rectangle(SKETCH_11_W_2, SKETCH_11_H)
        with Locations((31.821795599, 1.40003744)):
            Rectangle(SKETCH_11_W_2, SKETCH_11_H)
    extrude(amount=EXTRUDE_7_DEPTH)

    # 圆角1
    fillet_1_edges = [part_1.edges().sort_by_distance(p)[0] for p in [
        (-70.8000004, 3.99999962, 0),
        (-70.8000004, 3.99999962, 2.19996256),
        (-72.0000004, 3.99999962, 1.2),
        (1.200008, 3.9999793, 0),
        (1.200008, 3.9999793, 2.19996256),
        (-5.499992, 3.9999793, 1.2),
        (8e-06, 3.9999793, 1.2),
        (1.20000038, 35.99999912, 0),
        (1.20000038, 35.99999912, 2.19996256),
        (-5.49999962, 35.99999912, 1.2),
        (3.8e-07, 35.99999912, 1.2),
        (-70.8000004, 35.99999912, 0),
        (-70.8000004, 35.99999912, 2.19996256),
        (-77.5000004, 35.99999912, 1.2),
        (-72.0000004, 35.99999912, 1.2),
        (-72.0000004, 35.99999912, 3.39996256),
        (3.8e-07, 35.99999912, 3.39996256),
        (8e-06, 3.9999793, 3.39996256),
        (-72.0000004, 3.99999962, 3.39996256),
    ]]
    fillet(fillet_1_edges, radius=FILLET_1_R)

    # 圆角2
    fillet_2_edges = [part_1.edges().sort_by_distance(p)[0] for p in [
        (-12.954000404, -2.499999937, -1.20003744),
        (-39.382703712, -2.499999937, -1.20003744),
        (-65.81139939, -2.499999937, -1.20003744),
        (-35.991795638, 42.499999937, -1.20003744),
    ]]
    fillet(fillet_2_edges, radius=FILLET_2_R)

    # 圆角3
    fillet_3_edges = [part_1.edges().sort_by_distance(p)[0] for p in [
        (3.699999975, 19.999999101, 3.39996256),
        (1.884295092, -1.884295092, 3.39996256),
        (-40.000001314, -3.699999975, 3.39996256),
        (-81.884293959, -1.884293959, 3.39996256),
        (-83.699999975, 19.999999101, 3.39996256),
        (-81.884294734, 41.884294734, 3.39996256),
        (-40.000001314, 43.699999975, 3.39996256),
        (1.035767701, 41.035767701, 2.19996256),
        (1.035766926, -1.035766926, 2.19996256),
        (2.499999936, 19.999999339, 2.19996256),
        (-40.000000967, 42.499999937, 2.19996256),
        (-81.035766569, 41.035766569, 2.19996256),
        (-82.499999937, 19.999999339, 2.19996256),
        (-81.035765794, -1.035765794, 2.19996256),
        (-40.000000967, -2.499999937, 2.19996256),
        (1.884295867, 41.884295867, 3.39996256),
    ]]
    fillet(fillet_3_edges, radius=FILLET_3_R)

    # 草图12 → 切除-拉伸4 (cut)
    with BuildSketch(Plane(origin=(0, 0, -2.20003744), x_dir=(-1, 0, 0), z_dir=(0, 0, -1))):
        with BuildLine():
            ThreePointArc((71.26002944, -2.899999931), (71.208682027, -2.702922308), (71.191400306, -2.499999937))
            Line((71.191400306, -2.499999937), (71.191400306, -2.899999931))
            Line((71.191400306, -2.899999931), (71.26002944, -2.899999931))
        make_face()
        with BuildLine():
            ThreePointArc((60.431398475, -2.499999975), (60.41411675, -2.702922327), (60.36276934, -2.899999931))
            Line((60.36276934, -2.899999931), (60.431398475, -2.899999931))
            Line((60.431398475, -2.899999931), (60.431398475, -2.499999937))
        make_face()
        with BuildLine():
            Line((44.762697913, -2.499999937), (44.762697913, -2.899999931))
            Line((44.762697913, -2.899999931), (44.831327048, -2.899999931))
            ThreePointArc((44.831327048, -2.899999931), (44.779979635, -2.702922308), (44.762697913, -2.499999937))
        make_face()
        with BuildLine():
            Line((34.00270951, -2.899999931), (34.00270951, -2.499999937))
            ThreePointArc((34.00270951, -2.499999975), (33.985427785, -2.702922327), (33.934080375, -2.899999931))
            Line((33.934080375, -2.899999931), (34.00270951, -2.899999931))
        make_face()
        with BuildLine():
            Line((18.334001319, -2.899999931), (18.402630454, -2.899999931))
            ThreePointArc((18.402630454, -2.899999931), (18.35128304, -2.702922308), (18.334001319, -2.499999937))
            Line((18.334001319, -2.499999937), (18.334001319, -2.899999931))
        make_face()
        with BuildLine():
            Line((7.573999488, -2.899999931), (7.573999488, -2.499999937))
            ThreePointArc((7.573999488, -2.499999975), (7.556717764, -2.702922327), (7.505370353, -2.899999931))
            Line((7.505370353, -2.899999931), (7.573999488, -2.899999931))
        make_face()
        with BuildLine():
            ThreePointArc((39.961795678, 42.499999937), (39.979077399, 42.702922308), (40.030424812, 42.899999931))
            Line((40.030424812, 42.899999931), (39.961795678, 42.899999931))
            Line((39.961795678, 42.899999931), (39.961795678, 42.499999937))
        make_face()
        with BuildLine():
            Line((32.021795599, 42.499999937), (32.021795599, 42.899999931))
            Line((32.021795599, 42.899999931), (31.953166464, 42.899999931))
            ThreePointArc((31.953166464, 42.899999931), (32.004513874, 42.702922326), (32.021795599, 42.499999975))
        make_face()
    extrude(amount=-CUT_EXTRUDE_4_DEPTH, mode=Mode.SUBTRACT)


solid = part_1.part
